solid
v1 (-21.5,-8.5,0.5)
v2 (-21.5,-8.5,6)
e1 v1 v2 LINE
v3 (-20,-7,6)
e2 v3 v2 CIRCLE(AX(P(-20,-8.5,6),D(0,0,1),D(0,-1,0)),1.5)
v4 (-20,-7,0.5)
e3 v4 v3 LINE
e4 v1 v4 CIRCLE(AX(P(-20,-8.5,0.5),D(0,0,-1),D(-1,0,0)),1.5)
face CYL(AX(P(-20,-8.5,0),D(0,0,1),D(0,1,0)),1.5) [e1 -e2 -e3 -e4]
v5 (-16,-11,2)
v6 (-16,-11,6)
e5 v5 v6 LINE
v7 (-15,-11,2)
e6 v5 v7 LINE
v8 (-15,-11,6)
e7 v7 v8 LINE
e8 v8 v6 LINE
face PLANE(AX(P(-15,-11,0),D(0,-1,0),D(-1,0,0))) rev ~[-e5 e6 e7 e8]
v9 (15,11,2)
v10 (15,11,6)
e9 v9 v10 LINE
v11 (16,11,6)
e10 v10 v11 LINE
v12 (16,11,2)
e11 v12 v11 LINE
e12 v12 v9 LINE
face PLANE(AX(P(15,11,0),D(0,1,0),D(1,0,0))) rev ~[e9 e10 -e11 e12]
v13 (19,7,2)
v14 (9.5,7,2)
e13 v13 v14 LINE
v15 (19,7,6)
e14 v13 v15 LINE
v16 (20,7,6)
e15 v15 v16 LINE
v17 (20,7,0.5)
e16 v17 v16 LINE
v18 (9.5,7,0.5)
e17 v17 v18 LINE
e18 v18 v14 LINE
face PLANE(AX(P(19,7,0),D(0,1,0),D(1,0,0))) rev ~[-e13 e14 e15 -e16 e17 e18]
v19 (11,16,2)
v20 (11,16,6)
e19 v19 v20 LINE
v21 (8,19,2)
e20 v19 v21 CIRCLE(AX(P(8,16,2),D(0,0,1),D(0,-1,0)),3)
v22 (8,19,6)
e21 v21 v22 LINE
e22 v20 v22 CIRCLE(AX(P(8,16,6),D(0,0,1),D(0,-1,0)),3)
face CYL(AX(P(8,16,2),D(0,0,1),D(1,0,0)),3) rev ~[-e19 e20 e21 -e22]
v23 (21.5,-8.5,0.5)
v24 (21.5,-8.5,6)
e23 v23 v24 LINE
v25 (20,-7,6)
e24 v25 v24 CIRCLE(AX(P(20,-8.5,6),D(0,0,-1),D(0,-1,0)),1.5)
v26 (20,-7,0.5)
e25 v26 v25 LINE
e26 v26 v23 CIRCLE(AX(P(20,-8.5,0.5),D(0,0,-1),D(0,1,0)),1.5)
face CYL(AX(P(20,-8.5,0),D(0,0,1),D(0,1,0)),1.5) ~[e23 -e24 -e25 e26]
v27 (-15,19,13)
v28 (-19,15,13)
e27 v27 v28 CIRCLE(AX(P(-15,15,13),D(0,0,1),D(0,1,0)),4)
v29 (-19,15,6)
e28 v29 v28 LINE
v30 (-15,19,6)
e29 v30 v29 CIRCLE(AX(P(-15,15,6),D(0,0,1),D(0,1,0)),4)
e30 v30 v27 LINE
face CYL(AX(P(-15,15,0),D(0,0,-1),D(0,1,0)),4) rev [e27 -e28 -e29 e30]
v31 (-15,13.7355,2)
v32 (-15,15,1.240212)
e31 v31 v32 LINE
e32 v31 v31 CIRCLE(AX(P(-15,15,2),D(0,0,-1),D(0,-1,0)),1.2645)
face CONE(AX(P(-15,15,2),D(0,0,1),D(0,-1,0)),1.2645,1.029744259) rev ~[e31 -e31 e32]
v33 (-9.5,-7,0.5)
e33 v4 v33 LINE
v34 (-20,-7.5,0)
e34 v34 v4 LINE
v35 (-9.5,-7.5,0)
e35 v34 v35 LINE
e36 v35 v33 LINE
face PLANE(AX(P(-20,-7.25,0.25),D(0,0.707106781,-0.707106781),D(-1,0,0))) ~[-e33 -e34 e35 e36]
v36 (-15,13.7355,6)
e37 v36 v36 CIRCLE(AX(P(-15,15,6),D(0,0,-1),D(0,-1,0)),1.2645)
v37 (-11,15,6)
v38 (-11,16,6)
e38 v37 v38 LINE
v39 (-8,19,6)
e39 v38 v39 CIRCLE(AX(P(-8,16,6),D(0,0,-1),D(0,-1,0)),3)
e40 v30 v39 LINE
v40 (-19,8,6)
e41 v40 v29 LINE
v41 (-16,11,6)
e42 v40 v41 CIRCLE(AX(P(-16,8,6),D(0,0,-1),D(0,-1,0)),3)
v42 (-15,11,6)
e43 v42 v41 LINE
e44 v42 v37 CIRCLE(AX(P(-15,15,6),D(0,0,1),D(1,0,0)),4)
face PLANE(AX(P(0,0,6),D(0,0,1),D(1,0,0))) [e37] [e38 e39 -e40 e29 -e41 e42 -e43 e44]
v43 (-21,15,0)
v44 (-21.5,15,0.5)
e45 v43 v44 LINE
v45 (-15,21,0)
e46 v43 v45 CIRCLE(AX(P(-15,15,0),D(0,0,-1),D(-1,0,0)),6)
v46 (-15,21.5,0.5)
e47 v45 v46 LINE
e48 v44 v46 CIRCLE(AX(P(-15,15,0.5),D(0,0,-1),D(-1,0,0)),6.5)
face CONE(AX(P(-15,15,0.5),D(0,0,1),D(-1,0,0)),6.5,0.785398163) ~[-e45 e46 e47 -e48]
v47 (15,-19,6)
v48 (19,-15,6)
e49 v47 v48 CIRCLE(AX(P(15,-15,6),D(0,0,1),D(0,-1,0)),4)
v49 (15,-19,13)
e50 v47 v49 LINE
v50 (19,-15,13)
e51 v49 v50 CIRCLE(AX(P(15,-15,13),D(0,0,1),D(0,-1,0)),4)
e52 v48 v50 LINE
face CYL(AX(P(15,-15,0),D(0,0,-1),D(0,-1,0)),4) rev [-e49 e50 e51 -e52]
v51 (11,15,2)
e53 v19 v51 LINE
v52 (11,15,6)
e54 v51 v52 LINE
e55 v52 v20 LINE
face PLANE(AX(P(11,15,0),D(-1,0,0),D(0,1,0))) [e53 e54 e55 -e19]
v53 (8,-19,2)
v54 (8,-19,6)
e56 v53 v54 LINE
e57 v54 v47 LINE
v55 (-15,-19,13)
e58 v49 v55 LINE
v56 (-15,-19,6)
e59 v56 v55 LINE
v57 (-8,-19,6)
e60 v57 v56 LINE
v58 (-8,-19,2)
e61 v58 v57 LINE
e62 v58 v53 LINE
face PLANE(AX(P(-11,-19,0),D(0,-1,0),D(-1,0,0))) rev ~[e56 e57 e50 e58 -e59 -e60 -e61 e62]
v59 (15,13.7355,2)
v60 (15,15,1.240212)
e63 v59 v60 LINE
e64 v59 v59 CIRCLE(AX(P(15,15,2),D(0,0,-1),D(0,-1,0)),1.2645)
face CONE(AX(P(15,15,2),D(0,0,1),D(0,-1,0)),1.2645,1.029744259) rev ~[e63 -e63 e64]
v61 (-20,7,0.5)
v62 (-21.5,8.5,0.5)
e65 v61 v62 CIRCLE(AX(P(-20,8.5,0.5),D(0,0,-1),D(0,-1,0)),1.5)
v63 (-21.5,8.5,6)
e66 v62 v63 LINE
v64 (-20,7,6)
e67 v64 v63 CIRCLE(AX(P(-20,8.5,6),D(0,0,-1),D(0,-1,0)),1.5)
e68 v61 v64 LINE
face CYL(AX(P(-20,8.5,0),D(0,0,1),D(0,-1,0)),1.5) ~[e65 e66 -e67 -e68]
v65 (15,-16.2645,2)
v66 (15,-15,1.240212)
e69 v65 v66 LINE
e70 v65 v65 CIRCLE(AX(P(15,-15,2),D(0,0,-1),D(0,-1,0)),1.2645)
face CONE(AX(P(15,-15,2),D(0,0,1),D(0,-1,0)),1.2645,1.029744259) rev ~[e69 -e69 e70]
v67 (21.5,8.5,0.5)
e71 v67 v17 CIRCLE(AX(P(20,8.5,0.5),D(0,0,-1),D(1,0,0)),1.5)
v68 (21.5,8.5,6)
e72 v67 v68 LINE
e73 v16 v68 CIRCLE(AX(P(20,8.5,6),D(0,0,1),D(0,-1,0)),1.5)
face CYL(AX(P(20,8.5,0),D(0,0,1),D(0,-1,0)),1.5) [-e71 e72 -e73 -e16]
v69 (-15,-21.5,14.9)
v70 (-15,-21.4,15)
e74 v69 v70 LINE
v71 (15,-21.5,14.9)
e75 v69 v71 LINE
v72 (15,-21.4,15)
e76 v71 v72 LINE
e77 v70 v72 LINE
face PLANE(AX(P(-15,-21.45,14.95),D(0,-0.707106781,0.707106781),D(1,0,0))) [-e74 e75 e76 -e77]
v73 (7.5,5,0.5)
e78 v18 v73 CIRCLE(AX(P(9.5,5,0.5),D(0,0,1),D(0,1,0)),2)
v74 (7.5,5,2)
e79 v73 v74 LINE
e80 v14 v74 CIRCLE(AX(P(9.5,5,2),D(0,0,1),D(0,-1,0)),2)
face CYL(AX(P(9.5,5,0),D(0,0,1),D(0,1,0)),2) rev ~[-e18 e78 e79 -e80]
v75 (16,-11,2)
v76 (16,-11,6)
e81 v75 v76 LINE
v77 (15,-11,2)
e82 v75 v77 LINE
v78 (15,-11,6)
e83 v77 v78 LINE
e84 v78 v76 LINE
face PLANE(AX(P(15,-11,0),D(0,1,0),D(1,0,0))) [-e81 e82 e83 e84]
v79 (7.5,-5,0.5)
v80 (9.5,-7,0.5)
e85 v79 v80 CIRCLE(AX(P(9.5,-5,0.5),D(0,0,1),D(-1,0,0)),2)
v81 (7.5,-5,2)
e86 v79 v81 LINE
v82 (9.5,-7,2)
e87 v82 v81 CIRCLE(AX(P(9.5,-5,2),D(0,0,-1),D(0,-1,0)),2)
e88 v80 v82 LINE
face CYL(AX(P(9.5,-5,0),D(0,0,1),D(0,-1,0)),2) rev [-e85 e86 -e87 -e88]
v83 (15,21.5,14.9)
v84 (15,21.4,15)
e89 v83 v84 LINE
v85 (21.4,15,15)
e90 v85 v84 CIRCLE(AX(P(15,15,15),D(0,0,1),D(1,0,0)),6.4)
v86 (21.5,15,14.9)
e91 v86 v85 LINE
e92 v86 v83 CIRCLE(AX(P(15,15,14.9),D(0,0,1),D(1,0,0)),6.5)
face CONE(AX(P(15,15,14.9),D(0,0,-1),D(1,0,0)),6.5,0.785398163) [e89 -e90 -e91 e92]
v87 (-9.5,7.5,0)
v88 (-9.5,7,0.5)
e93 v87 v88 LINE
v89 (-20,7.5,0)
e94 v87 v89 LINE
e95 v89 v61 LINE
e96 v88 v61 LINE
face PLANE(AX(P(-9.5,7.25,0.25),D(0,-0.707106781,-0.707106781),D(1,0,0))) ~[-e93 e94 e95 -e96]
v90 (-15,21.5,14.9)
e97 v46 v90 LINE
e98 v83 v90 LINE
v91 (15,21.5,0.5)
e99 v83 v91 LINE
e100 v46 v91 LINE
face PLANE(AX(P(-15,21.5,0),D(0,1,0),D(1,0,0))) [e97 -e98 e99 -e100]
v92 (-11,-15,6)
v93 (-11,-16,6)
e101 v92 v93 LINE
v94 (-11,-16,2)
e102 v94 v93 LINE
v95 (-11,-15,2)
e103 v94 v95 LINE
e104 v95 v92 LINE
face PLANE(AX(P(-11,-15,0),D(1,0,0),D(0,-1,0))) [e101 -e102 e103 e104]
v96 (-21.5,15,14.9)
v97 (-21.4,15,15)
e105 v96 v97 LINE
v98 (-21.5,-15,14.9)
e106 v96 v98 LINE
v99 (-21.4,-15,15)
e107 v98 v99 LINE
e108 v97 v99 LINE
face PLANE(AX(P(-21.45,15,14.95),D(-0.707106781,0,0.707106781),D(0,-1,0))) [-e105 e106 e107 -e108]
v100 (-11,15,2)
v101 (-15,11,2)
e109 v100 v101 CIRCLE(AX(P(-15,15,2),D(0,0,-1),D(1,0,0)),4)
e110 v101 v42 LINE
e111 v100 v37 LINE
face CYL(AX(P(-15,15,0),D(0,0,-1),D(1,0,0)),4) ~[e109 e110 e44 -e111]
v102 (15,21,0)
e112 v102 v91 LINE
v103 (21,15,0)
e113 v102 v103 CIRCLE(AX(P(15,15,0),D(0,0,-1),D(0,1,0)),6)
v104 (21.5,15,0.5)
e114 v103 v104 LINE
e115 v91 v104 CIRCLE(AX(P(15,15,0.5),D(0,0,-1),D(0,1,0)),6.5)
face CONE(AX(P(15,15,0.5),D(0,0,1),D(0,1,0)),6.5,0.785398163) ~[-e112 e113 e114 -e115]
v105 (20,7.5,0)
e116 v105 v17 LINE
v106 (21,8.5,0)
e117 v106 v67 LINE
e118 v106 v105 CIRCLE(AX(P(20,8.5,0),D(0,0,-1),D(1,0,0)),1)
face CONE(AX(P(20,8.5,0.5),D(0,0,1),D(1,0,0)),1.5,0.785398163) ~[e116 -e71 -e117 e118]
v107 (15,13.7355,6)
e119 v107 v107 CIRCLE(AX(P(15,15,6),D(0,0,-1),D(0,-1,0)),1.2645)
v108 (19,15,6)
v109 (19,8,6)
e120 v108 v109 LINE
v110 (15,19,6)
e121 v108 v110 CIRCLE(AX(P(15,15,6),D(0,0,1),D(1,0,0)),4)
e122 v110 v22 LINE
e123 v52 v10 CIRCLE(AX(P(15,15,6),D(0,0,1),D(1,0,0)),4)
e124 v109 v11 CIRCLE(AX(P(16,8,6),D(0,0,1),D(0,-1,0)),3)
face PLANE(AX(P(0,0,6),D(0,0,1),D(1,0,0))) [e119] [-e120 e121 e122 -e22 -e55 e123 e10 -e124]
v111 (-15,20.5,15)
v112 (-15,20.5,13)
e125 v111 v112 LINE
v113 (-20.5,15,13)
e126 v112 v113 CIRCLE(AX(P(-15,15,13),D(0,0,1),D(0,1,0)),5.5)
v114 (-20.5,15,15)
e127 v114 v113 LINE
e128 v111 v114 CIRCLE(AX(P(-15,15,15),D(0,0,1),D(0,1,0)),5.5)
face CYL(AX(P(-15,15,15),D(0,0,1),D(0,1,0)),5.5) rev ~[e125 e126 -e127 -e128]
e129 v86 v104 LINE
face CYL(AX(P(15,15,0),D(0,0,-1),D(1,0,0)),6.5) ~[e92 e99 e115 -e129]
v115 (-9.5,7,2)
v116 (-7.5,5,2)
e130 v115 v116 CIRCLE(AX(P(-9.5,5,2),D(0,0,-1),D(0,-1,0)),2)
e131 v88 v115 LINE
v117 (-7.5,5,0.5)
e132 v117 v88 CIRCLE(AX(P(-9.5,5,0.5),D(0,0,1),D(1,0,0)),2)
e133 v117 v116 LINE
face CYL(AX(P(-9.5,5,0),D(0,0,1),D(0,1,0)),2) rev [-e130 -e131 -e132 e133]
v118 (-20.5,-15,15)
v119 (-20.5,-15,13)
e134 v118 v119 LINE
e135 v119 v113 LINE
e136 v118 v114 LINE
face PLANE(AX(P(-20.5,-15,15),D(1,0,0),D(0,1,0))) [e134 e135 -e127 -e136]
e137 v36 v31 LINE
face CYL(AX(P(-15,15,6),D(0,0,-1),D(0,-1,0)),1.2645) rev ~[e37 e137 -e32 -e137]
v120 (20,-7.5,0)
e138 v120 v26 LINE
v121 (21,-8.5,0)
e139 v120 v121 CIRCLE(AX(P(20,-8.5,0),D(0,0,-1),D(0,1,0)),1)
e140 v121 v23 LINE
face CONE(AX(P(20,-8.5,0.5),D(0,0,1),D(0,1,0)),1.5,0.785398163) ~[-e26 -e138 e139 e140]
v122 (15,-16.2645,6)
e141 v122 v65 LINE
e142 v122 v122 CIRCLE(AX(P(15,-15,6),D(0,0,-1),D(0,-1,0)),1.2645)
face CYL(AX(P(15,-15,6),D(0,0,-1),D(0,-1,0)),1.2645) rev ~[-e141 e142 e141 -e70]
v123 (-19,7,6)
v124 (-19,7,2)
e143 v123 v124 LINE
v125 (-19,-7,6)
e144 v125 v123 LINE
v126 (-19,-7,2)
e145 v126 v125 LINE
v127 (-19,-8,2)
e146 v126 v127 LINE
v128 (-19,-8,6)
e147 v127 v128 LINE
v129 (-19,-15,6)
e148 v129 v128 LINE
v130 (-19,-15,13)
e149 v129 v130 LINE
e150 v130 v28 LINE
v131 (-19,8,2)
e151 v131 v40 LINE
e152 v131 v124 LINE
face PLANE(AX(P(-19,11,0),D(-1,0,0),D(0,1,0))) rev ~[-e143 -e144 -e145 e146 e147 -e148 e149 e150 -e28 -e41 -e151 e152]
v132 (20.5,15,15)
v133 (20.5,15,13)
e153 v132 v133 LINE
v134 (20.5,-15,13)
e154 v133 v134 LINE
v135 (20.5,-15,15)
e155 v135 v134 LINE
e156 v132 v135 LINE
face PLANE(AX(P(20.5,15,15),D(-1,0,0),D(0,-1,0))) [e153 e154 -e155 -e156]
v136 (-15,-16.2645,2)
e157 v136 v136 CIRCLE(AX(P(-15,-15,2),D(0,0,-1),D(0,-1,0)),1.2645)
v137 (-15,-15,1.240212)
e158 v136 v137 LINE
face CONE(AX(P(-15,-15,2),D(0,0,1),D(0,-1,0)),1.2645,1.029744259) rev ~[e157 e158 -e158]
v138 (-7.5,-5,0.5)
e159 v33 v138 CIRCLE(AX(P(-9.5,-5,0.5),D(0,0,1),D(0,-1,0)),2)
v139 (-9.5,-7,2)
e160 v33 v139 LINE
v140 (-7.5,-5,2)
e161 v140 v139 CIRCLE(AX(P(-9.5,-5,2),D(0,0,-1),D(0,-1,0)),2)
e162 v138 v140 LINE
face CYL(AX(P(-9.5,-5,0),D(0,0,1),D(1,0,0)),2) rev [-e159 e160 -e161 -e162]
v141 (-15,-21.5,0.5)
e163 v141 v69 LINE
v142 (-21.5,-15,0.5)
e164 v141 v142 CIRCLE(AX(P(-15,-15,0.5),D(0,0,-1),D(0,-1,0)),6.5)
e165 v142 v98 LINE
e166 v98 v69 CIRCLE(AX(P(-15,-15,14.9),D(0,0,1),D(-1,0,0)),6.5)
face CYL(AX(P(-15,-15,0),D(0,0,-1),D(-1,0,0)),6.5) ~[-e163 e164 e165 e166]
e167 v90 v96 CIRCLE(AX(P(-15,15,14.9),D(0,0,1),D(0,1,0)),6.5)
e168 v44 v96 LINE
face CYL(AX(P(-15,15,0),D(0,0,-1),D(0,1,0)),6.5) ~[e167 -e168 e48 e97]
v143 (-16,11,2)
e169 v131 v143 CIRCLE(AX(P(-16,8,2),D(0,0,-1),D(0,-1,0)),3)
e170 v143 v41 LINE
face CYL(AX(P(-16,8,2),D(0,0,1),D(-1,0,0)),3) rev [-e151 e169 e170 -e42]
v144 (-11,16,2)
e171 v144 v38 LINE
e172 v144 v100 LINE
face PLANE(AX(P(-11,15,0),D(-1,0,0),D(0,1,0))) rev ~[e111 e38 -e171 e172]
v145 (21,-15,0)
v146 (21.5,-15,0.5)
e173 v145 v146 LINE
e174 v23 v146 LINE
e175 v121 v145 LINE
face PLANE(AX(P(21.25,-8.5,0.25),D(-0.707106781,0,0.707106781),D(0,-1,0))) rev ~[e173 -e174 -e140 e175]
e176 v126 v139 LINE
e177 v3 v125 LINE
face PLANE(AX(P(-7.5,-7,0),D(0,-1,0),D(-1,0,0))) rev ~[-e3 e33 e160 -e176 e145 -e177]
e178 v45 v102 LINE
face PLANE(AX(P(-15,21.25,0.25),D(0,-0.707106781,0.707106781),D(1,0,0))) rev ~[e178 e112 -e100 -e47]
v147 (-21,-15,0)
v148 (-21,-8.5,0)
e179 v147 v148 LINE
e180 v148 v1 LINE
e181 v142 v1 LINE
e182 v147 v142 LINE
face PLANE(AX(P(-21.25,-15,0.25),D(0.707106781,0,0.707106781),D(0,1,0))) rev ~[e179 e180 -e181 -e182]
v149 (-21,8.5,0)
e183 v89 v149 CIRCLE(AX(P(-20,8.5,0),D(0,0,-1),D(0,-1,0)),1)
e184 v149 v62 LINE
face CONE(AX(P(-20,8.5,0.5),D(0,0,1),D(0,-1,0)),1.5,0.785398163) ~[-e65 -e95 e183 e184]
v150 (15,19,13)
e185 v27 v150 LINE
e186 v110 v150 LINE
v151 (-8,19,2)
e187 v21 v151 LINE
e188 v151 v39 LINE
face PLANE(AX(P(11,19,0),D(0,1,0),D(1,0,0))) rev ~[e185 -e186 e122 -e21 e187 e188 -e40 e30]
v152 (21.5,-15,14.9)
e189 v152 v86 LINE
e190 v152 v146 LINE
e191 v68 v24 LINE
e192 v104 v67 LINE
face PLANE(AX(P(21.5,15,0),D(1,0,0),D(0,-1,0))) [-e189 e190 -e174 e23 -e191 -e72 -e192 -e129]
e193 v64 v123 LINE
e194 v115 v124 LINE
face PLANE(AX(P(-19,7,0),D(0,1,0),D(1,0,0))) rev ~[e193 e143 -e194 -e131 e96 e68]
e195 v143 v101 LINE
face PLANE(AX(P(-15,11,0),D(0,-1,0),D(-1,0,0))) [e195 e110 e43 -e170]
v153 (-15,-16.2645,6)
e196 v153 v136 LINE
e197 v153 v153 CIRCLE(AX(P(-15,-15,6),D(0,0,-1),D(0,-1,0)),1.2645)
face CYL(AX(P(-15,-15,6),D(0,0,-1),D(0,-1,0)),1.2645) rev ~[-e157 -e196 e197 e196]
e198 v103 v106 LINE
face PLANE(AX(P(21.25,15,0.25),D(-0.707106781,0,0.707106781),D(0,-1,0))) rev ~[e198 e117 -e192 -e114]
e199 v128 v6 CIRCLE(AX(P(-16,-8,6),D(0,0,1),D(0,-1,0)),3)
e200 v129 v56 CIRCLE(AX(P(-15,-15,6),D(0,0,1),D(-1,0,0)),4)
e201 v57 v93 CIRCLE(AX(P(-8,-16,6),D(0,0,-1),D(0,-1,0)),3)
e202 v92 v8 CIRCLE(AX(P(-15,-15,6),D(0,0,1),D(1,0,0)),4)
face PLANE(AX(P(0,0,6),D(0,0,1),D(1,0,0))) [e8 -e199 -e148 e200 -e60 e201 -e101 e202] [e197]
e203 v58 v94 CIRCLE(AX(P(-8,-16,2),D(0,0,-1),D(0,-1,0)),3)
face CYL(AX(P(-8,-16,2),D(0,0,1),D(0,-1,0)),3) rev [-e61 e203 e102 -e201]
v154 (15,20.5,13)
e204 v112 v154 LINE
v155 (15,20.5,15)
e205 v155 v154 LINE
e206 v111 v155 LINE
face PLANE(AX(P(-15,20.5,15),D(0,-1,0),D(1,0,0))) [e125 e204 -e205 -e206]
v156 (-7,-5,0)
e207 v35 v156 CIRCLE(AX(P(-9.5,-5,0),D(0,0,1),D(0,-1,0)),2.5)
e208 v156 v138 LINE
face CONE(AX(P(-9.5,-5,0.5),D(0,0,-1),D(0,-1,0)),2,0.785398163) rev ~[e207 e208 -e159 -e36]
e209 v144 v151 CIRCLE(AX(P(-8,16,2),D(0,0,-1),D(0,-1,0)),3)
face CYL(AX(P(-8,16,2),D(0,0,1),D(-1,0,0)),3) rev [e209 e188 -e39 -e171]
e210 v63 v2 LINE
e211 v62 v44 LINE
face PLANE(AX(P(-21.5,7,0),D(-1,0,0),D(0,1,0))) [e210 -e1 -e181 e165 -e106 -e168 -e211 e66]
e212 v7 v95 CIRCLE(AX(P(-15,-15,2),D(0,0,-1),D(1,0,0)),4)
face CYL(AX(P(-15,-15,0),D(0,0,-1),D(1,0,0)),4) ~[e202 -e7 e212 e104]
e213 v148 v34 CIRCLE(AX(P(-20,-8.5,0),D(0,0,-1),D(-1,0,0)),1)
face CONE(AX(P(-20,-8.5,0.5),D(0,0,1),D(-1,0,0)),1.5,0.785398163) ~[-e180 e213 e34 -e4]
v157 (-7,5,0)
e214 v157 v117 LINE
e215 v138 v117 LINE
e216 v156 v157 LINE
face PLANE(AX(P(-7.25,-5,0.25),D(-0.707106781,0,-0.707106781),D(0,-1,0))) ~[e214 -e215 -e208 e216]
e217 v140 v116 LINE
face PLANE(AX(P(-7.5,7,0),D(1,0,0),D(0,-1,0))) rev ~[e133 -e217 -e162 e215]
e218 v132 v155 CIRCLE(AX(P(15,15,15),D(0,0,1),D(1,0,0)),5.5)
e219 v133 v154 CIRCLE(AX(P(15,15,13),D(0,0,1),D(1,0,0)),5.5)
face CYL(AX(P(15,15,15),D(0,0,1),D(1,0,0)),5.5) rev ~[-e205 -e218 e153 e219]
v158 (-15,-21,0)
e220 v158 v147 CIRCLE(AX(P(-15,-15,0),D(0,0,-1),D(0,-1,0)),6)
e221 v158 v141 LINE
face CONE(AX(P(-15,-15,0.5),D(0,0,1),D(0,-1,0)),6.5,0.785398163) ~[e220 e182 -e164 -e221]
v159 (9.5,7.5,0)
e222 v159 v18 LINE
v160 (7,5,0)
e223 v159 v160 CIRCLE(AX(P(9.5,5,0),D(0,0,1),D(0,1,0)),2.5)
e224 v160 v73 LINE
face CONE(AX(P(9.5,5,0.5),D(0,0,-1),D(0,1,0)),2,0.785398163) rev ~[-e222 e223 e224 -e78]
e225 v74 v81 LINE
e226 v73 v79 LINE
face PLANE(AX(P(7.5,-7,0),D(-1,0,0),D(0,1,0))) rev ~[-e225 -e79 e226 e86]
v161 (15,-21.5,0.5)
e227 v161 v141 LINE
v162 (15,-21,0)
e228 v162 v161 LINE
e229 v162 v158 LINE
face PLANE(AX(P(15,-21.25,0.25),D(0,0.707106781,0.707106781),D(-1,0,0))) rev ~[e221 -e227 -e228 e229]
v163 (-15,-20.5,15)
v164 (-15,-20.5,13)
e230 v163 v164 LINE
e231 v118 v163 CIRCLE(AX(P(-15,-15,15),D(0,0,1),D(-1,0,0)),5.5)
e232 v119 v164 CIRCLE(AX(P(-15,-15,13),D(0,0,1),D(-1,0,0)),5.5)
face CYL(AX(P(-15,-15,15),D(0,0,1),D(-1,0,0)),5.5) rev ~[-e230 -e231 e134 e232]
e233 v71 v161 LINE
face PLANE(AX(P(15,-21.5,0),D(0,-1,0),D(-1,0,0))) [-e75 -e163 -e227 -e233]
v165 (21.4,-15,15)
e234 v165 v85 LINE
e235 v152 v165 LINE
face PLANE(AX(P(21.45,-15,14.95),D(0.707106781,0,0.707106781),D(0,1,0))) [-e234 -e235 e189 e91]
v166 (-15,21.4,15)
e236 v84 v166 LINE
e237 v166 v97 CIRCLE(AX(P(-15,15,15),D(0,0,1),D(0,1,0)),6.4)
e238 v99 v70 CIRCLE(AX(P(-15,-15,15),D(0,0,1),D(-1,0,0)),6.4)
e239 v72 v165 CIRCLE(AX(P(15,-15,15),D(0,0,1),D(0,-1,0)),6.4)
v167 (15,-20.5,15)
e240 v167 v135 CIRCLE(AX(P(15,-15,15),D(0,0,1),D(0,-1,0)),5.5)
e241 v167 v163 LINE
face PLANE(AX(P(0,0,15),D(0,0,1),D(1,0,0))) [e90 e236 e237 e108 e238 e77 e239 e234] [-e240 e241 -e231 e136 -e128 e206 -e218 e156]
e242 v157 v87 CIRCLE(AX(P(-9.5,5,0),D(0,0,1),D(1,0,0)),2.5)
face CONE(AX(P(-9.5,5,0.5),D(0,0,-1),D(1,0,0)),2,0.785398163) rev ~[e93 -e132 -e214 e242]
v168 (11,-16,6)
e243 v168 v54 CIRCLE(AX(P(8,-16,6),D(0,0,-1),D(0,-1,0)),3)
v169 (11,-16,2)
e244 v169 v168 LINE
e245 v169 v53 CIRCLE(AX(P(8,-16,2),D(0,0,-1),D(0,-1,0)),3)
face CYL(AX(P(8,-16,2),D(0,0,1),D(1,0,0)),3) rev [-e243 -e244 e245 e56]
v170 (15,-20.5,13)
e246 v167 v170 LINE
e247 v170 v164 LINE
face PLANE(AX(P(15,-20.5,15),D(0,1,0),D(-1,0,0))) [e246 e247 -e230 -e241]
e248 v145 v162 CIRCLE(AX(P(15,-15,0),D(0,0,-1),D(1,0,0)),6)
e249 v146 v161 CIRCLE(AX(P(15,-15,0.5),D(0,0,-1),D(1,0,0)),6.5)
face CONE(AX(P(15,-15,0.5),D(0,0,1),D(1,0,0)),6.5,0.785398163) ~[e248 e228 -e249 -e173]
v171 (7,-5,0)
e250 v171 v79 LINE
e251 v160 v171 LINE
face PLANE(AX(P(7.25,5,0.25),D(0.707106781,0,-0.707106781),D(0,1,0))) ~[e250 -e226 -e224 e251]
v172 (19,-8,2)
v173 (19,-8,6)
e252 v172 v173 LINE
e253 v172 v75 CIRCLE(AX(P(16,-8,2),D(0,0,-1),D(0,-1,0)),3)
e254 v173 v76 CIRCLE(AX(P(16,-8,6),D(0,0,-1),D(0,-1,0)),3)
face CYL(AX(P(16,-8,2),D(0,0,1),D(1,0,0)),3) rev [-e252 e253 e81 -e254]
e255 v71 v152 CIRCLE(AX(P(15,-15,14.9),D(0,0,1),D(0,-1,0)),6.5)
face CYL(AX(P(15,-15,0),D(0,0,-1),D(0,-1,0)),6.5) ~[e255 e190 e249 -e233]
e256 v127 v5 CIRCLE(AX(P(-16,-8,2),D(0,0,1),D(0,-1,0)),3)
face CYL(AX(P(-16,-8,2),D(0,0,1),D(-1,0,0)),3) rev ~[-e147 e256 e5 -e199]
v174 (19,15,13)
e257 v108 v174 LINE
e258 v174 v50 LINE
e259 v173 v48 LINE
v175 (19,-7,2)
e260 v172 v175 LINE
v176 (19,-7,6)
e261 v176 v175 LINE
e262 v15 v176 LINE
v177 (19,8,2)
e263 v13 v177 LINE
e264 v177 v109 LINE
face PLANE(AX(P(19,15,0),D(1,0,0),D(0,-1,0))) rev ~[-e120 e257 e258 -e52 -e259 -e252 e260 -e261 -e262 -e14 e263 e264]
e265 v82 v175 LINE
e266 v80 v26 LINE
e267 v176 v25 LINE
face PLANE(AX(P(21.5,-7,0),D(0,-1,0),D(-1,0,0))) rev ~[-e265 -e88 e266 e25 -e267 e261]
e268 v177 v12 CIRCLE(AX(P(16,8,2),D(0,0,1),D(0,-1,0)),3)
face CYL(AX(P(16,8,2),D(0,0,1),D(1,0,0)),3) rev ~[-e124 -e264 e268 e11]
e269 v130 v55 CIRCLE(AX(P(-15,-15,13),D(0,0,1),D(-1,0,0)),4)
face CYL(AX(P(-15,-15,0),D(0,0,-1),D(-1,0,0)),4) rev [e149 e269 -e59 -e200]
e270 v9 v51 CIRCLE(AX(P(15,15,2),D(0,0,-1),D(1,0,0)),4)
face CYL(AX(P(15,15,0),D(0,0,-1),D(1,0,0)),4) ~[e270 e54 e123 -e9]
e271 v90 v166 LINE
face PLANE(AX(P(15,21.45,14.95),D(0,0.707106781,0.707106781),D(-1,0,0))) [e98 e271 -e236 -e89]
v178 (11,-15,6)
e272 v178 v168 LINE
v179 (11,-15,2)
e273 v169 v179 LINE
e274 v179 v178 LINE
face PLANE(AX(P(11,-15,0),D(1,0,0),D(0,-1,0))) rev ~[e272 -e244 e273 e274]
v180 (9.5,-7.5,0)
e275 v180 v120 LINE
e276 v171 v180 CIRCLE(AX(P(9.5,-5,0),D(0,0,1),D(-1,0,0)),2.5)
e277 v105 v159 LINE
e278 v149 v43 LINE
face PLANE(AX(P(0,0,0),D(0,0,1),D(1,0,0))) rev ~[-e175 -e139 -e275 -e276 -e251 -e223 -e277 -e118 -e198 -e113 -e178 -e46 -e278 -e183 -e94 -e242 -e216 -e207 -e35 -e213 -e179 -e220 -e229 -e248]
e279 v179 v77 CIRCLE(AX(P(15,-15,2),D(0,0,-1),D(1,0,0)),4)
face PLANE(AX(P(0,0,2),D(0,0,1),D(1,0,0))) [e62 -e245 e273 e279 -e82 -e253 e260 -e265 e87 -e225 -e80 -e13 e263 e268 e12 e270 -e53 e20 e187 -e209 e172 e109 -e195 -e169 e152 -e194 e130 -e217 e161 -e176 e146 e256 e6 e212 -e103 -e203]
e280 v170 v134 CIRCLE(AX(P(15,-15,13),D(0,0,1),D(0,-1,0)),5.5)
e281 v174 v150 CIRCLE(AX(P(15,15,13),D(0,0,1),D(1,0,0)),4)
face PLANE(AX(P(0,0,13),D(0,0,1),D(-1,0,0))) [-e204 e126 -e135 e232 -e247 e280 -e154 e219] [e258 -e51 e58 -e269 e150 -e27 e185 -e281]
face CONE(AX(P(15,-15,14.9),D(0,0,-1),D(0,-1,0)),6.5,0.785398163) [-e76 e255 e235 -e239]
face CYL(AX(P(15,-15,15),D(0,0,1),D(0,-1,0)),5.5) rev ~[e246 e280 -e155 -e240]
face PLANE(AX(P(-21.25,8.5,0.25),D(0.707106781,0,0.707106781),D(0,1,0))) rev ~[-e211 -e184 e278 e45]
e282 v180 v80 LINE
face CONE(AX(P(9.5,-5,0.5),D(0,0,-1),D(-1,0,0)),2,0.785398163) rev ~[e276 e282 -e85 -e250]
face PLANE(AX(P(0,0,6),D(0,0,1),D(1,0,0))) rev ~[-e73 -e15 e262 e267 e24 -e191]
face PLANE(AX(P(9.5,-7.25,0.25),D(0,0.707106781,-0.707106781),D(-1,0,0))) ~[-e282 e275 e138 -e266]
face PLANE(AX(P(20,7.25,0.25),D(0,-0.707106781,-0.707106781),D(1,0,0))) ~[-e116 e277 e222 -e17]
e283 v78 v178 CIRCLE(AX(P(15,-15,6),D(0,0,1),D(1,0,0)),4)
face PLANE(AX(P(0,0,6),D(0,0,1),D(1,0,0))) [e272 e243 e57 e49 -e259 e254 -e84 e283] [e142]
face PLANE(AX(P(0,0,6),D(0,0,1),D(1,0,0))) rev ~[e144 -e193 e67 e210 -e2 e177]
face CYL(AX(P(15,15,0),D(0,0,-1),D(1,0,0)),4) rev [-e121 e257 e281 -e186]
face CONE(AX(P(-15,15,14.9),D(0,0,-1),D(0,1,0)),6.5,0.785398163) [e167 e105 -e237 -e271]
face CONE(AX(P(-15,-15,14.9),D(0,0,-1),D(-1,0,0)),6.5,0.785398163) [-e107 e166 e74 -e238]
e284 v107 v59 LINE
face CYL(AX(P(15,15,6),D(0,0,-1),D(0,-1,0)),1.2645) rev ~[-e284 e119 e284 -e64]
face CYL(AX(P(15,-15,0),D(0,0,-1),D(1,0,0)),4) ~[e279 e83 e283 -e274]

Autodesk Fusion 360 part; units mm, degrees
sketch "sketch_for_main_body_shape" plane through (0, 0, 0) normal (0, 0, 1) x (1, 0, 0)
  line L0 (15, -18.5) -> (-15, -18.5) construction
  line L1 (-18.5, -15) -> (-18.5, 15) construction
  line L2 (-15, 18.5) -> (15, 18.5) construction
  line L3 (18.5, 15) -> (18.5, -15) construction
  line L4 (18.5, -18.5) -> (-18.5, 18.5) construction
  line L5 (-18.5, -18.5) -> (18.5, 18.5) construction
  arc A0 (-15, 18.5) -> (-18.5, 15) centre (-15, 15) ccw construction
  arc A1 (-18.5, -15) -> (-15, -18.5) centre (-15, -15) ccw construction
  arc A2 (15, -18.5) -> (18.5, -15) centre (15, -15) ccw construction
  arc A3 (18.5, 15) -> (15, 18.5) centre (15, 15) ccw construction
  arc A4 (19, 15) -> (15, 19) centre (15, 15) ccw
  line L6 (-15, 19) -> (15, 19)
  arc A5 (-15, 19) -> (-19, 15) centre (-15, 15) ccw
  line L7 (-19, -15) -> (-19, 15)
  arc A6 (-19, -15) -> (-15, -19) centre (-15, -15) ccw
  line L8 (15, -19) -> (-15, -19)
  arc A7 (15, -19) -> (19, -15) centre (15, -15) ccw
  line L9 (19, 15) -> (19, -15)
  arc A8 (21.5, 15) -> (15, 21.5) centre (15, 15) ccw
  line L10 (-15, 21.5) -> (15, 21.5)
  arc A9 (-15, 21.5) -> (-21.5, 15) centre (-15, 15) ccw
  line L11 (-21.5, -15) -> (-21.5, 15)
  arc A10 (-21.5, -15) -> (-15, -21.5) centre (-15, -15) ccw
  line L12 (15, -21.5) -> (-15, -21.5)
  arc A11 (15, -21.5) -> (21.5, -15) centre (15, -15) ccw
  line L13 (21.5, 15) -> (21.5, -15)
  circle A12 centre (-15, 15) radius 4
  line L14 (-11, 15) -> (-11, 19)
  line L15 (-15, 11) -> (-19, 11)
  circle A13 centre (15, 15) radius 4
  line L16 (11, 15) -> (11, 19)
  line L17 (15, 11) -> (19, 11)
  line L18 (-37.3211, 0) -> (37.3211, 0) construction
  line L19 (-11, -15) -> (-11, -19)
  circle A14 centre (-15, -15) radius 4
  line L20 (-15, -11) -> (-19, -11)
  circle A15 centre (15, -15) radius 4
  line L21 (15, -11) -> (19, -11)
  line L22 (11, -15) -> (11, -19)
  line L23 (-7.5, -7) -> (-21.5, -7)
  line L24 (-21.5, -7) -> (-21.5, 7)
  line L25 (-21.5, 7) -> (-7.5, 7)
  line L26 (-7.5, 7) -> (-7.5, -7)
  line L27 (21.5, -7) -> (7.5, -7)
  line L28 (7.5, -7) -> (7.5, 7)
  line L29 (7.5, 7) -> (21.5, 7)
  line L30 (21.5, 7) -> (21.5, -7)
  dimension "d6" = 37
  dimension "d7" = 37
  dimension "d8" = 3.5
  dimension "d9" = -0.5
  dimension "d10" = -3
  dimension "d21" = 14
  dimension "d22" = 14
  dimension "d23" = 14
  dimension "d24" = 14
extrude "Extrude1" add sketch "sketch_for_main_body_shape" along normal blind 2
extrude "Extrude2" add sketch "sketch_for_main_body_shape" along normal blind 15 contours A4 L6 A5 L7 L9 A8 L10 A9 L11 L13 A12 A13 L25 L29 | L9 L13 L27 L29 L30 | L7 A6 L8 A7 L9 L11 A10 L12 A11 L13 A14 A15 L23 L27 | L7 L11 L23 L24 L25
extrude "Extrude3" add sketch "sketch_for_main_body_shape" along normal blind 6 contours A4 A13 | L9 A13 L17 | L6 A13 L16 | L6 A12 L14 | A5 A12 | L9 A15 L21 | L7 A12 L15 | A7 A15 | L8 A15 L22 | L8 L19 A14 | L7 A14 L20 | A6 A14
sketch "sketch_for_holes" plane through (0, 0, 6) normal (0, 0, 1) x (-1, 0, 0)
  line L0 (11, -15) -> (11, -19)
  line L1 (11, -19) -> (15, -19)
  arc A0 (15, -19) -> (19, -15) centre (15, -15) ccw
  line L2 (19, -15) -> (19, -11)
  line L3 (19, -11) -> (15, -11)
  arc A1 (15, -11) -> (11, -15) centre (15, -15) ccw
  point P0 (-15, -15)
  point P1 (15, -15)
  point P2 (15, 15)
  point P3 (-15, 15)
hole "Hole1" at (-15, 15, 6) at (15, 15, 6) at (15, -15, 6) at (-15, -15, 6) direction (0, 0, -1) diameter 2.529 depth 4 tip angle 118
extrude "Extrude4" cut sketch "sketch_for_main_body_shape" along normal blind 6 contours L9 L13 L27 L29 L30 | L9 L27 L28 L29 | L7 L23 L25 L26 | L7 L11 L23 L24 L25
sketch "sketch_for_rim" plane through (0, 0, 15) normal (0, 0, 1) x (-1, 0, 0)
  arc A0 (15, -19) -> (19, -15) centre (15, -15) ccw
  line L0 (15, -19) -> (-15, -19)
  arc A1 (-19, -15) -> (-15, -19) centre (-15, -15) ccw
  line L1 (-19, -15) -> (-19, 15)
  arc A2 (-15, 19) -> (-19, 15) centre (-15, 15) ccw
  line L2 (-15, 19) -> (15, 19)
  arc A3 (19, 15) -> (15, 19) centre (15, 15) ccw
  line L3 (19, 15) -> (19, -15)
  arc A4 (15, -21.5) -> (21.5, -15) centre (15, -15) ccw
  line L4 (21.5, -15) -> (21.5, 15)
  arc A5 (21.5, 15) -> (15, 21.5) centre (15, 15) ccw
  line L5 (15, 21.5) -> (-15, 21.5)
  arc A6 (-15, 21.5) -> (-21.5, 15) centre (-15, 15) ccw
  line L6 (-21.5, 15) -> (-21.5, -15)
  arc A7 (-21.5, -15) -> (-15, -21.5) centre (-15, -15) ccw
  line L7 (-15, -21.5) -> (15, -21.5)
  arc A8 (20.5, 15) -> (15, 20.5) centre (15, 15) ccw
  line L8 (-15, 20.5) -> (15, 20.5)
  arc A9 (-15, 20.5) -> (-20.5, 15) centre (-15, 15) ccw
  line L9 (-20.5, -15) -> (-20.5, 15)
  arc A10 (-20.5, -15) -> (-15, -20.5) centre (-15, -15) ccw
  line L10 (15, -20.5) -> (-15, -20.5)
  arc A11 (15, -20.5) -> (20.5, -15) centre (15, -15) ccw
  line L11 (20.5, 15) -> (20.5, -15)
  dimension "d27" = -1.5
extrude "Extrude5" cut sketch "sketch_for_rim" against normal blind 2 contours A8 L8 A9 L9 A10 L10 A11 L11
fillet "Fillet1" radius 3 8 edges at (11, -19, 4) (19, -11, 4) (19, 11, 4) (11, 19, 4) (-11, 19, 4) (-19, 11, 4) (-19, -11, 4) (-11, -19, 4)
fillet "Fillet2" radius 2 4 edges at (7.5, -7, 1) (7.5, 7, 1) (-7.5, 7, 1) (-7.5, -7, 1)
fillet "Fillet3" radius 1.5 4 edges at (-21.5, 7, 3) (-21.5, -7, 3) (21.5, -7, 3) (21.5, 7, 3)
chamfer "Chamfer1" distance 0.5 angle 45 24 edges at (0, -21.5, 0) (-19.5962, -19.5962, 0) (-21.5, -11.75, 0) (-21.0607, -7.4393, 0) (-14.75, -7, 0) (-8.0858, -6.4142, 0) (-7.5, 0, 0) (-8.0858, 6.4142, 0) (-14.75, 7, 0) (-21.0607, 7.4393, 0) (-21.5, 11.75, 0) (-19.5962, 19.5962, 0) (0, 21.5, 0) (19.5962, 19.5962, 0) (21.5, 11.75, 0) (21.0607, 7.4393, 0) (14.75, 7, 0) (8.0858, 6.4142, 0) (7.5, 0, 0) (8.0858, -6.4142, 0) (14.75, -7, 0) (21.0607, -7.4393, 0) (21.5, -11.75, 0) (19.5962, -19.5962, 0)
chamfer "Chamfer2" distance 0.1 angle 45 8 edges at (21.5, 0, 15) (19.5962, 19.5962, 15) (0, 21.5, 15) (-19.5962, 19.5962, 15) (-21.5, 0, 15) (-19.5962, -19.5962, 15) (0, -21.5, 15) (19.5962, -19.5962, 15)
equation "d21 = 11 mm + 3 mm"
